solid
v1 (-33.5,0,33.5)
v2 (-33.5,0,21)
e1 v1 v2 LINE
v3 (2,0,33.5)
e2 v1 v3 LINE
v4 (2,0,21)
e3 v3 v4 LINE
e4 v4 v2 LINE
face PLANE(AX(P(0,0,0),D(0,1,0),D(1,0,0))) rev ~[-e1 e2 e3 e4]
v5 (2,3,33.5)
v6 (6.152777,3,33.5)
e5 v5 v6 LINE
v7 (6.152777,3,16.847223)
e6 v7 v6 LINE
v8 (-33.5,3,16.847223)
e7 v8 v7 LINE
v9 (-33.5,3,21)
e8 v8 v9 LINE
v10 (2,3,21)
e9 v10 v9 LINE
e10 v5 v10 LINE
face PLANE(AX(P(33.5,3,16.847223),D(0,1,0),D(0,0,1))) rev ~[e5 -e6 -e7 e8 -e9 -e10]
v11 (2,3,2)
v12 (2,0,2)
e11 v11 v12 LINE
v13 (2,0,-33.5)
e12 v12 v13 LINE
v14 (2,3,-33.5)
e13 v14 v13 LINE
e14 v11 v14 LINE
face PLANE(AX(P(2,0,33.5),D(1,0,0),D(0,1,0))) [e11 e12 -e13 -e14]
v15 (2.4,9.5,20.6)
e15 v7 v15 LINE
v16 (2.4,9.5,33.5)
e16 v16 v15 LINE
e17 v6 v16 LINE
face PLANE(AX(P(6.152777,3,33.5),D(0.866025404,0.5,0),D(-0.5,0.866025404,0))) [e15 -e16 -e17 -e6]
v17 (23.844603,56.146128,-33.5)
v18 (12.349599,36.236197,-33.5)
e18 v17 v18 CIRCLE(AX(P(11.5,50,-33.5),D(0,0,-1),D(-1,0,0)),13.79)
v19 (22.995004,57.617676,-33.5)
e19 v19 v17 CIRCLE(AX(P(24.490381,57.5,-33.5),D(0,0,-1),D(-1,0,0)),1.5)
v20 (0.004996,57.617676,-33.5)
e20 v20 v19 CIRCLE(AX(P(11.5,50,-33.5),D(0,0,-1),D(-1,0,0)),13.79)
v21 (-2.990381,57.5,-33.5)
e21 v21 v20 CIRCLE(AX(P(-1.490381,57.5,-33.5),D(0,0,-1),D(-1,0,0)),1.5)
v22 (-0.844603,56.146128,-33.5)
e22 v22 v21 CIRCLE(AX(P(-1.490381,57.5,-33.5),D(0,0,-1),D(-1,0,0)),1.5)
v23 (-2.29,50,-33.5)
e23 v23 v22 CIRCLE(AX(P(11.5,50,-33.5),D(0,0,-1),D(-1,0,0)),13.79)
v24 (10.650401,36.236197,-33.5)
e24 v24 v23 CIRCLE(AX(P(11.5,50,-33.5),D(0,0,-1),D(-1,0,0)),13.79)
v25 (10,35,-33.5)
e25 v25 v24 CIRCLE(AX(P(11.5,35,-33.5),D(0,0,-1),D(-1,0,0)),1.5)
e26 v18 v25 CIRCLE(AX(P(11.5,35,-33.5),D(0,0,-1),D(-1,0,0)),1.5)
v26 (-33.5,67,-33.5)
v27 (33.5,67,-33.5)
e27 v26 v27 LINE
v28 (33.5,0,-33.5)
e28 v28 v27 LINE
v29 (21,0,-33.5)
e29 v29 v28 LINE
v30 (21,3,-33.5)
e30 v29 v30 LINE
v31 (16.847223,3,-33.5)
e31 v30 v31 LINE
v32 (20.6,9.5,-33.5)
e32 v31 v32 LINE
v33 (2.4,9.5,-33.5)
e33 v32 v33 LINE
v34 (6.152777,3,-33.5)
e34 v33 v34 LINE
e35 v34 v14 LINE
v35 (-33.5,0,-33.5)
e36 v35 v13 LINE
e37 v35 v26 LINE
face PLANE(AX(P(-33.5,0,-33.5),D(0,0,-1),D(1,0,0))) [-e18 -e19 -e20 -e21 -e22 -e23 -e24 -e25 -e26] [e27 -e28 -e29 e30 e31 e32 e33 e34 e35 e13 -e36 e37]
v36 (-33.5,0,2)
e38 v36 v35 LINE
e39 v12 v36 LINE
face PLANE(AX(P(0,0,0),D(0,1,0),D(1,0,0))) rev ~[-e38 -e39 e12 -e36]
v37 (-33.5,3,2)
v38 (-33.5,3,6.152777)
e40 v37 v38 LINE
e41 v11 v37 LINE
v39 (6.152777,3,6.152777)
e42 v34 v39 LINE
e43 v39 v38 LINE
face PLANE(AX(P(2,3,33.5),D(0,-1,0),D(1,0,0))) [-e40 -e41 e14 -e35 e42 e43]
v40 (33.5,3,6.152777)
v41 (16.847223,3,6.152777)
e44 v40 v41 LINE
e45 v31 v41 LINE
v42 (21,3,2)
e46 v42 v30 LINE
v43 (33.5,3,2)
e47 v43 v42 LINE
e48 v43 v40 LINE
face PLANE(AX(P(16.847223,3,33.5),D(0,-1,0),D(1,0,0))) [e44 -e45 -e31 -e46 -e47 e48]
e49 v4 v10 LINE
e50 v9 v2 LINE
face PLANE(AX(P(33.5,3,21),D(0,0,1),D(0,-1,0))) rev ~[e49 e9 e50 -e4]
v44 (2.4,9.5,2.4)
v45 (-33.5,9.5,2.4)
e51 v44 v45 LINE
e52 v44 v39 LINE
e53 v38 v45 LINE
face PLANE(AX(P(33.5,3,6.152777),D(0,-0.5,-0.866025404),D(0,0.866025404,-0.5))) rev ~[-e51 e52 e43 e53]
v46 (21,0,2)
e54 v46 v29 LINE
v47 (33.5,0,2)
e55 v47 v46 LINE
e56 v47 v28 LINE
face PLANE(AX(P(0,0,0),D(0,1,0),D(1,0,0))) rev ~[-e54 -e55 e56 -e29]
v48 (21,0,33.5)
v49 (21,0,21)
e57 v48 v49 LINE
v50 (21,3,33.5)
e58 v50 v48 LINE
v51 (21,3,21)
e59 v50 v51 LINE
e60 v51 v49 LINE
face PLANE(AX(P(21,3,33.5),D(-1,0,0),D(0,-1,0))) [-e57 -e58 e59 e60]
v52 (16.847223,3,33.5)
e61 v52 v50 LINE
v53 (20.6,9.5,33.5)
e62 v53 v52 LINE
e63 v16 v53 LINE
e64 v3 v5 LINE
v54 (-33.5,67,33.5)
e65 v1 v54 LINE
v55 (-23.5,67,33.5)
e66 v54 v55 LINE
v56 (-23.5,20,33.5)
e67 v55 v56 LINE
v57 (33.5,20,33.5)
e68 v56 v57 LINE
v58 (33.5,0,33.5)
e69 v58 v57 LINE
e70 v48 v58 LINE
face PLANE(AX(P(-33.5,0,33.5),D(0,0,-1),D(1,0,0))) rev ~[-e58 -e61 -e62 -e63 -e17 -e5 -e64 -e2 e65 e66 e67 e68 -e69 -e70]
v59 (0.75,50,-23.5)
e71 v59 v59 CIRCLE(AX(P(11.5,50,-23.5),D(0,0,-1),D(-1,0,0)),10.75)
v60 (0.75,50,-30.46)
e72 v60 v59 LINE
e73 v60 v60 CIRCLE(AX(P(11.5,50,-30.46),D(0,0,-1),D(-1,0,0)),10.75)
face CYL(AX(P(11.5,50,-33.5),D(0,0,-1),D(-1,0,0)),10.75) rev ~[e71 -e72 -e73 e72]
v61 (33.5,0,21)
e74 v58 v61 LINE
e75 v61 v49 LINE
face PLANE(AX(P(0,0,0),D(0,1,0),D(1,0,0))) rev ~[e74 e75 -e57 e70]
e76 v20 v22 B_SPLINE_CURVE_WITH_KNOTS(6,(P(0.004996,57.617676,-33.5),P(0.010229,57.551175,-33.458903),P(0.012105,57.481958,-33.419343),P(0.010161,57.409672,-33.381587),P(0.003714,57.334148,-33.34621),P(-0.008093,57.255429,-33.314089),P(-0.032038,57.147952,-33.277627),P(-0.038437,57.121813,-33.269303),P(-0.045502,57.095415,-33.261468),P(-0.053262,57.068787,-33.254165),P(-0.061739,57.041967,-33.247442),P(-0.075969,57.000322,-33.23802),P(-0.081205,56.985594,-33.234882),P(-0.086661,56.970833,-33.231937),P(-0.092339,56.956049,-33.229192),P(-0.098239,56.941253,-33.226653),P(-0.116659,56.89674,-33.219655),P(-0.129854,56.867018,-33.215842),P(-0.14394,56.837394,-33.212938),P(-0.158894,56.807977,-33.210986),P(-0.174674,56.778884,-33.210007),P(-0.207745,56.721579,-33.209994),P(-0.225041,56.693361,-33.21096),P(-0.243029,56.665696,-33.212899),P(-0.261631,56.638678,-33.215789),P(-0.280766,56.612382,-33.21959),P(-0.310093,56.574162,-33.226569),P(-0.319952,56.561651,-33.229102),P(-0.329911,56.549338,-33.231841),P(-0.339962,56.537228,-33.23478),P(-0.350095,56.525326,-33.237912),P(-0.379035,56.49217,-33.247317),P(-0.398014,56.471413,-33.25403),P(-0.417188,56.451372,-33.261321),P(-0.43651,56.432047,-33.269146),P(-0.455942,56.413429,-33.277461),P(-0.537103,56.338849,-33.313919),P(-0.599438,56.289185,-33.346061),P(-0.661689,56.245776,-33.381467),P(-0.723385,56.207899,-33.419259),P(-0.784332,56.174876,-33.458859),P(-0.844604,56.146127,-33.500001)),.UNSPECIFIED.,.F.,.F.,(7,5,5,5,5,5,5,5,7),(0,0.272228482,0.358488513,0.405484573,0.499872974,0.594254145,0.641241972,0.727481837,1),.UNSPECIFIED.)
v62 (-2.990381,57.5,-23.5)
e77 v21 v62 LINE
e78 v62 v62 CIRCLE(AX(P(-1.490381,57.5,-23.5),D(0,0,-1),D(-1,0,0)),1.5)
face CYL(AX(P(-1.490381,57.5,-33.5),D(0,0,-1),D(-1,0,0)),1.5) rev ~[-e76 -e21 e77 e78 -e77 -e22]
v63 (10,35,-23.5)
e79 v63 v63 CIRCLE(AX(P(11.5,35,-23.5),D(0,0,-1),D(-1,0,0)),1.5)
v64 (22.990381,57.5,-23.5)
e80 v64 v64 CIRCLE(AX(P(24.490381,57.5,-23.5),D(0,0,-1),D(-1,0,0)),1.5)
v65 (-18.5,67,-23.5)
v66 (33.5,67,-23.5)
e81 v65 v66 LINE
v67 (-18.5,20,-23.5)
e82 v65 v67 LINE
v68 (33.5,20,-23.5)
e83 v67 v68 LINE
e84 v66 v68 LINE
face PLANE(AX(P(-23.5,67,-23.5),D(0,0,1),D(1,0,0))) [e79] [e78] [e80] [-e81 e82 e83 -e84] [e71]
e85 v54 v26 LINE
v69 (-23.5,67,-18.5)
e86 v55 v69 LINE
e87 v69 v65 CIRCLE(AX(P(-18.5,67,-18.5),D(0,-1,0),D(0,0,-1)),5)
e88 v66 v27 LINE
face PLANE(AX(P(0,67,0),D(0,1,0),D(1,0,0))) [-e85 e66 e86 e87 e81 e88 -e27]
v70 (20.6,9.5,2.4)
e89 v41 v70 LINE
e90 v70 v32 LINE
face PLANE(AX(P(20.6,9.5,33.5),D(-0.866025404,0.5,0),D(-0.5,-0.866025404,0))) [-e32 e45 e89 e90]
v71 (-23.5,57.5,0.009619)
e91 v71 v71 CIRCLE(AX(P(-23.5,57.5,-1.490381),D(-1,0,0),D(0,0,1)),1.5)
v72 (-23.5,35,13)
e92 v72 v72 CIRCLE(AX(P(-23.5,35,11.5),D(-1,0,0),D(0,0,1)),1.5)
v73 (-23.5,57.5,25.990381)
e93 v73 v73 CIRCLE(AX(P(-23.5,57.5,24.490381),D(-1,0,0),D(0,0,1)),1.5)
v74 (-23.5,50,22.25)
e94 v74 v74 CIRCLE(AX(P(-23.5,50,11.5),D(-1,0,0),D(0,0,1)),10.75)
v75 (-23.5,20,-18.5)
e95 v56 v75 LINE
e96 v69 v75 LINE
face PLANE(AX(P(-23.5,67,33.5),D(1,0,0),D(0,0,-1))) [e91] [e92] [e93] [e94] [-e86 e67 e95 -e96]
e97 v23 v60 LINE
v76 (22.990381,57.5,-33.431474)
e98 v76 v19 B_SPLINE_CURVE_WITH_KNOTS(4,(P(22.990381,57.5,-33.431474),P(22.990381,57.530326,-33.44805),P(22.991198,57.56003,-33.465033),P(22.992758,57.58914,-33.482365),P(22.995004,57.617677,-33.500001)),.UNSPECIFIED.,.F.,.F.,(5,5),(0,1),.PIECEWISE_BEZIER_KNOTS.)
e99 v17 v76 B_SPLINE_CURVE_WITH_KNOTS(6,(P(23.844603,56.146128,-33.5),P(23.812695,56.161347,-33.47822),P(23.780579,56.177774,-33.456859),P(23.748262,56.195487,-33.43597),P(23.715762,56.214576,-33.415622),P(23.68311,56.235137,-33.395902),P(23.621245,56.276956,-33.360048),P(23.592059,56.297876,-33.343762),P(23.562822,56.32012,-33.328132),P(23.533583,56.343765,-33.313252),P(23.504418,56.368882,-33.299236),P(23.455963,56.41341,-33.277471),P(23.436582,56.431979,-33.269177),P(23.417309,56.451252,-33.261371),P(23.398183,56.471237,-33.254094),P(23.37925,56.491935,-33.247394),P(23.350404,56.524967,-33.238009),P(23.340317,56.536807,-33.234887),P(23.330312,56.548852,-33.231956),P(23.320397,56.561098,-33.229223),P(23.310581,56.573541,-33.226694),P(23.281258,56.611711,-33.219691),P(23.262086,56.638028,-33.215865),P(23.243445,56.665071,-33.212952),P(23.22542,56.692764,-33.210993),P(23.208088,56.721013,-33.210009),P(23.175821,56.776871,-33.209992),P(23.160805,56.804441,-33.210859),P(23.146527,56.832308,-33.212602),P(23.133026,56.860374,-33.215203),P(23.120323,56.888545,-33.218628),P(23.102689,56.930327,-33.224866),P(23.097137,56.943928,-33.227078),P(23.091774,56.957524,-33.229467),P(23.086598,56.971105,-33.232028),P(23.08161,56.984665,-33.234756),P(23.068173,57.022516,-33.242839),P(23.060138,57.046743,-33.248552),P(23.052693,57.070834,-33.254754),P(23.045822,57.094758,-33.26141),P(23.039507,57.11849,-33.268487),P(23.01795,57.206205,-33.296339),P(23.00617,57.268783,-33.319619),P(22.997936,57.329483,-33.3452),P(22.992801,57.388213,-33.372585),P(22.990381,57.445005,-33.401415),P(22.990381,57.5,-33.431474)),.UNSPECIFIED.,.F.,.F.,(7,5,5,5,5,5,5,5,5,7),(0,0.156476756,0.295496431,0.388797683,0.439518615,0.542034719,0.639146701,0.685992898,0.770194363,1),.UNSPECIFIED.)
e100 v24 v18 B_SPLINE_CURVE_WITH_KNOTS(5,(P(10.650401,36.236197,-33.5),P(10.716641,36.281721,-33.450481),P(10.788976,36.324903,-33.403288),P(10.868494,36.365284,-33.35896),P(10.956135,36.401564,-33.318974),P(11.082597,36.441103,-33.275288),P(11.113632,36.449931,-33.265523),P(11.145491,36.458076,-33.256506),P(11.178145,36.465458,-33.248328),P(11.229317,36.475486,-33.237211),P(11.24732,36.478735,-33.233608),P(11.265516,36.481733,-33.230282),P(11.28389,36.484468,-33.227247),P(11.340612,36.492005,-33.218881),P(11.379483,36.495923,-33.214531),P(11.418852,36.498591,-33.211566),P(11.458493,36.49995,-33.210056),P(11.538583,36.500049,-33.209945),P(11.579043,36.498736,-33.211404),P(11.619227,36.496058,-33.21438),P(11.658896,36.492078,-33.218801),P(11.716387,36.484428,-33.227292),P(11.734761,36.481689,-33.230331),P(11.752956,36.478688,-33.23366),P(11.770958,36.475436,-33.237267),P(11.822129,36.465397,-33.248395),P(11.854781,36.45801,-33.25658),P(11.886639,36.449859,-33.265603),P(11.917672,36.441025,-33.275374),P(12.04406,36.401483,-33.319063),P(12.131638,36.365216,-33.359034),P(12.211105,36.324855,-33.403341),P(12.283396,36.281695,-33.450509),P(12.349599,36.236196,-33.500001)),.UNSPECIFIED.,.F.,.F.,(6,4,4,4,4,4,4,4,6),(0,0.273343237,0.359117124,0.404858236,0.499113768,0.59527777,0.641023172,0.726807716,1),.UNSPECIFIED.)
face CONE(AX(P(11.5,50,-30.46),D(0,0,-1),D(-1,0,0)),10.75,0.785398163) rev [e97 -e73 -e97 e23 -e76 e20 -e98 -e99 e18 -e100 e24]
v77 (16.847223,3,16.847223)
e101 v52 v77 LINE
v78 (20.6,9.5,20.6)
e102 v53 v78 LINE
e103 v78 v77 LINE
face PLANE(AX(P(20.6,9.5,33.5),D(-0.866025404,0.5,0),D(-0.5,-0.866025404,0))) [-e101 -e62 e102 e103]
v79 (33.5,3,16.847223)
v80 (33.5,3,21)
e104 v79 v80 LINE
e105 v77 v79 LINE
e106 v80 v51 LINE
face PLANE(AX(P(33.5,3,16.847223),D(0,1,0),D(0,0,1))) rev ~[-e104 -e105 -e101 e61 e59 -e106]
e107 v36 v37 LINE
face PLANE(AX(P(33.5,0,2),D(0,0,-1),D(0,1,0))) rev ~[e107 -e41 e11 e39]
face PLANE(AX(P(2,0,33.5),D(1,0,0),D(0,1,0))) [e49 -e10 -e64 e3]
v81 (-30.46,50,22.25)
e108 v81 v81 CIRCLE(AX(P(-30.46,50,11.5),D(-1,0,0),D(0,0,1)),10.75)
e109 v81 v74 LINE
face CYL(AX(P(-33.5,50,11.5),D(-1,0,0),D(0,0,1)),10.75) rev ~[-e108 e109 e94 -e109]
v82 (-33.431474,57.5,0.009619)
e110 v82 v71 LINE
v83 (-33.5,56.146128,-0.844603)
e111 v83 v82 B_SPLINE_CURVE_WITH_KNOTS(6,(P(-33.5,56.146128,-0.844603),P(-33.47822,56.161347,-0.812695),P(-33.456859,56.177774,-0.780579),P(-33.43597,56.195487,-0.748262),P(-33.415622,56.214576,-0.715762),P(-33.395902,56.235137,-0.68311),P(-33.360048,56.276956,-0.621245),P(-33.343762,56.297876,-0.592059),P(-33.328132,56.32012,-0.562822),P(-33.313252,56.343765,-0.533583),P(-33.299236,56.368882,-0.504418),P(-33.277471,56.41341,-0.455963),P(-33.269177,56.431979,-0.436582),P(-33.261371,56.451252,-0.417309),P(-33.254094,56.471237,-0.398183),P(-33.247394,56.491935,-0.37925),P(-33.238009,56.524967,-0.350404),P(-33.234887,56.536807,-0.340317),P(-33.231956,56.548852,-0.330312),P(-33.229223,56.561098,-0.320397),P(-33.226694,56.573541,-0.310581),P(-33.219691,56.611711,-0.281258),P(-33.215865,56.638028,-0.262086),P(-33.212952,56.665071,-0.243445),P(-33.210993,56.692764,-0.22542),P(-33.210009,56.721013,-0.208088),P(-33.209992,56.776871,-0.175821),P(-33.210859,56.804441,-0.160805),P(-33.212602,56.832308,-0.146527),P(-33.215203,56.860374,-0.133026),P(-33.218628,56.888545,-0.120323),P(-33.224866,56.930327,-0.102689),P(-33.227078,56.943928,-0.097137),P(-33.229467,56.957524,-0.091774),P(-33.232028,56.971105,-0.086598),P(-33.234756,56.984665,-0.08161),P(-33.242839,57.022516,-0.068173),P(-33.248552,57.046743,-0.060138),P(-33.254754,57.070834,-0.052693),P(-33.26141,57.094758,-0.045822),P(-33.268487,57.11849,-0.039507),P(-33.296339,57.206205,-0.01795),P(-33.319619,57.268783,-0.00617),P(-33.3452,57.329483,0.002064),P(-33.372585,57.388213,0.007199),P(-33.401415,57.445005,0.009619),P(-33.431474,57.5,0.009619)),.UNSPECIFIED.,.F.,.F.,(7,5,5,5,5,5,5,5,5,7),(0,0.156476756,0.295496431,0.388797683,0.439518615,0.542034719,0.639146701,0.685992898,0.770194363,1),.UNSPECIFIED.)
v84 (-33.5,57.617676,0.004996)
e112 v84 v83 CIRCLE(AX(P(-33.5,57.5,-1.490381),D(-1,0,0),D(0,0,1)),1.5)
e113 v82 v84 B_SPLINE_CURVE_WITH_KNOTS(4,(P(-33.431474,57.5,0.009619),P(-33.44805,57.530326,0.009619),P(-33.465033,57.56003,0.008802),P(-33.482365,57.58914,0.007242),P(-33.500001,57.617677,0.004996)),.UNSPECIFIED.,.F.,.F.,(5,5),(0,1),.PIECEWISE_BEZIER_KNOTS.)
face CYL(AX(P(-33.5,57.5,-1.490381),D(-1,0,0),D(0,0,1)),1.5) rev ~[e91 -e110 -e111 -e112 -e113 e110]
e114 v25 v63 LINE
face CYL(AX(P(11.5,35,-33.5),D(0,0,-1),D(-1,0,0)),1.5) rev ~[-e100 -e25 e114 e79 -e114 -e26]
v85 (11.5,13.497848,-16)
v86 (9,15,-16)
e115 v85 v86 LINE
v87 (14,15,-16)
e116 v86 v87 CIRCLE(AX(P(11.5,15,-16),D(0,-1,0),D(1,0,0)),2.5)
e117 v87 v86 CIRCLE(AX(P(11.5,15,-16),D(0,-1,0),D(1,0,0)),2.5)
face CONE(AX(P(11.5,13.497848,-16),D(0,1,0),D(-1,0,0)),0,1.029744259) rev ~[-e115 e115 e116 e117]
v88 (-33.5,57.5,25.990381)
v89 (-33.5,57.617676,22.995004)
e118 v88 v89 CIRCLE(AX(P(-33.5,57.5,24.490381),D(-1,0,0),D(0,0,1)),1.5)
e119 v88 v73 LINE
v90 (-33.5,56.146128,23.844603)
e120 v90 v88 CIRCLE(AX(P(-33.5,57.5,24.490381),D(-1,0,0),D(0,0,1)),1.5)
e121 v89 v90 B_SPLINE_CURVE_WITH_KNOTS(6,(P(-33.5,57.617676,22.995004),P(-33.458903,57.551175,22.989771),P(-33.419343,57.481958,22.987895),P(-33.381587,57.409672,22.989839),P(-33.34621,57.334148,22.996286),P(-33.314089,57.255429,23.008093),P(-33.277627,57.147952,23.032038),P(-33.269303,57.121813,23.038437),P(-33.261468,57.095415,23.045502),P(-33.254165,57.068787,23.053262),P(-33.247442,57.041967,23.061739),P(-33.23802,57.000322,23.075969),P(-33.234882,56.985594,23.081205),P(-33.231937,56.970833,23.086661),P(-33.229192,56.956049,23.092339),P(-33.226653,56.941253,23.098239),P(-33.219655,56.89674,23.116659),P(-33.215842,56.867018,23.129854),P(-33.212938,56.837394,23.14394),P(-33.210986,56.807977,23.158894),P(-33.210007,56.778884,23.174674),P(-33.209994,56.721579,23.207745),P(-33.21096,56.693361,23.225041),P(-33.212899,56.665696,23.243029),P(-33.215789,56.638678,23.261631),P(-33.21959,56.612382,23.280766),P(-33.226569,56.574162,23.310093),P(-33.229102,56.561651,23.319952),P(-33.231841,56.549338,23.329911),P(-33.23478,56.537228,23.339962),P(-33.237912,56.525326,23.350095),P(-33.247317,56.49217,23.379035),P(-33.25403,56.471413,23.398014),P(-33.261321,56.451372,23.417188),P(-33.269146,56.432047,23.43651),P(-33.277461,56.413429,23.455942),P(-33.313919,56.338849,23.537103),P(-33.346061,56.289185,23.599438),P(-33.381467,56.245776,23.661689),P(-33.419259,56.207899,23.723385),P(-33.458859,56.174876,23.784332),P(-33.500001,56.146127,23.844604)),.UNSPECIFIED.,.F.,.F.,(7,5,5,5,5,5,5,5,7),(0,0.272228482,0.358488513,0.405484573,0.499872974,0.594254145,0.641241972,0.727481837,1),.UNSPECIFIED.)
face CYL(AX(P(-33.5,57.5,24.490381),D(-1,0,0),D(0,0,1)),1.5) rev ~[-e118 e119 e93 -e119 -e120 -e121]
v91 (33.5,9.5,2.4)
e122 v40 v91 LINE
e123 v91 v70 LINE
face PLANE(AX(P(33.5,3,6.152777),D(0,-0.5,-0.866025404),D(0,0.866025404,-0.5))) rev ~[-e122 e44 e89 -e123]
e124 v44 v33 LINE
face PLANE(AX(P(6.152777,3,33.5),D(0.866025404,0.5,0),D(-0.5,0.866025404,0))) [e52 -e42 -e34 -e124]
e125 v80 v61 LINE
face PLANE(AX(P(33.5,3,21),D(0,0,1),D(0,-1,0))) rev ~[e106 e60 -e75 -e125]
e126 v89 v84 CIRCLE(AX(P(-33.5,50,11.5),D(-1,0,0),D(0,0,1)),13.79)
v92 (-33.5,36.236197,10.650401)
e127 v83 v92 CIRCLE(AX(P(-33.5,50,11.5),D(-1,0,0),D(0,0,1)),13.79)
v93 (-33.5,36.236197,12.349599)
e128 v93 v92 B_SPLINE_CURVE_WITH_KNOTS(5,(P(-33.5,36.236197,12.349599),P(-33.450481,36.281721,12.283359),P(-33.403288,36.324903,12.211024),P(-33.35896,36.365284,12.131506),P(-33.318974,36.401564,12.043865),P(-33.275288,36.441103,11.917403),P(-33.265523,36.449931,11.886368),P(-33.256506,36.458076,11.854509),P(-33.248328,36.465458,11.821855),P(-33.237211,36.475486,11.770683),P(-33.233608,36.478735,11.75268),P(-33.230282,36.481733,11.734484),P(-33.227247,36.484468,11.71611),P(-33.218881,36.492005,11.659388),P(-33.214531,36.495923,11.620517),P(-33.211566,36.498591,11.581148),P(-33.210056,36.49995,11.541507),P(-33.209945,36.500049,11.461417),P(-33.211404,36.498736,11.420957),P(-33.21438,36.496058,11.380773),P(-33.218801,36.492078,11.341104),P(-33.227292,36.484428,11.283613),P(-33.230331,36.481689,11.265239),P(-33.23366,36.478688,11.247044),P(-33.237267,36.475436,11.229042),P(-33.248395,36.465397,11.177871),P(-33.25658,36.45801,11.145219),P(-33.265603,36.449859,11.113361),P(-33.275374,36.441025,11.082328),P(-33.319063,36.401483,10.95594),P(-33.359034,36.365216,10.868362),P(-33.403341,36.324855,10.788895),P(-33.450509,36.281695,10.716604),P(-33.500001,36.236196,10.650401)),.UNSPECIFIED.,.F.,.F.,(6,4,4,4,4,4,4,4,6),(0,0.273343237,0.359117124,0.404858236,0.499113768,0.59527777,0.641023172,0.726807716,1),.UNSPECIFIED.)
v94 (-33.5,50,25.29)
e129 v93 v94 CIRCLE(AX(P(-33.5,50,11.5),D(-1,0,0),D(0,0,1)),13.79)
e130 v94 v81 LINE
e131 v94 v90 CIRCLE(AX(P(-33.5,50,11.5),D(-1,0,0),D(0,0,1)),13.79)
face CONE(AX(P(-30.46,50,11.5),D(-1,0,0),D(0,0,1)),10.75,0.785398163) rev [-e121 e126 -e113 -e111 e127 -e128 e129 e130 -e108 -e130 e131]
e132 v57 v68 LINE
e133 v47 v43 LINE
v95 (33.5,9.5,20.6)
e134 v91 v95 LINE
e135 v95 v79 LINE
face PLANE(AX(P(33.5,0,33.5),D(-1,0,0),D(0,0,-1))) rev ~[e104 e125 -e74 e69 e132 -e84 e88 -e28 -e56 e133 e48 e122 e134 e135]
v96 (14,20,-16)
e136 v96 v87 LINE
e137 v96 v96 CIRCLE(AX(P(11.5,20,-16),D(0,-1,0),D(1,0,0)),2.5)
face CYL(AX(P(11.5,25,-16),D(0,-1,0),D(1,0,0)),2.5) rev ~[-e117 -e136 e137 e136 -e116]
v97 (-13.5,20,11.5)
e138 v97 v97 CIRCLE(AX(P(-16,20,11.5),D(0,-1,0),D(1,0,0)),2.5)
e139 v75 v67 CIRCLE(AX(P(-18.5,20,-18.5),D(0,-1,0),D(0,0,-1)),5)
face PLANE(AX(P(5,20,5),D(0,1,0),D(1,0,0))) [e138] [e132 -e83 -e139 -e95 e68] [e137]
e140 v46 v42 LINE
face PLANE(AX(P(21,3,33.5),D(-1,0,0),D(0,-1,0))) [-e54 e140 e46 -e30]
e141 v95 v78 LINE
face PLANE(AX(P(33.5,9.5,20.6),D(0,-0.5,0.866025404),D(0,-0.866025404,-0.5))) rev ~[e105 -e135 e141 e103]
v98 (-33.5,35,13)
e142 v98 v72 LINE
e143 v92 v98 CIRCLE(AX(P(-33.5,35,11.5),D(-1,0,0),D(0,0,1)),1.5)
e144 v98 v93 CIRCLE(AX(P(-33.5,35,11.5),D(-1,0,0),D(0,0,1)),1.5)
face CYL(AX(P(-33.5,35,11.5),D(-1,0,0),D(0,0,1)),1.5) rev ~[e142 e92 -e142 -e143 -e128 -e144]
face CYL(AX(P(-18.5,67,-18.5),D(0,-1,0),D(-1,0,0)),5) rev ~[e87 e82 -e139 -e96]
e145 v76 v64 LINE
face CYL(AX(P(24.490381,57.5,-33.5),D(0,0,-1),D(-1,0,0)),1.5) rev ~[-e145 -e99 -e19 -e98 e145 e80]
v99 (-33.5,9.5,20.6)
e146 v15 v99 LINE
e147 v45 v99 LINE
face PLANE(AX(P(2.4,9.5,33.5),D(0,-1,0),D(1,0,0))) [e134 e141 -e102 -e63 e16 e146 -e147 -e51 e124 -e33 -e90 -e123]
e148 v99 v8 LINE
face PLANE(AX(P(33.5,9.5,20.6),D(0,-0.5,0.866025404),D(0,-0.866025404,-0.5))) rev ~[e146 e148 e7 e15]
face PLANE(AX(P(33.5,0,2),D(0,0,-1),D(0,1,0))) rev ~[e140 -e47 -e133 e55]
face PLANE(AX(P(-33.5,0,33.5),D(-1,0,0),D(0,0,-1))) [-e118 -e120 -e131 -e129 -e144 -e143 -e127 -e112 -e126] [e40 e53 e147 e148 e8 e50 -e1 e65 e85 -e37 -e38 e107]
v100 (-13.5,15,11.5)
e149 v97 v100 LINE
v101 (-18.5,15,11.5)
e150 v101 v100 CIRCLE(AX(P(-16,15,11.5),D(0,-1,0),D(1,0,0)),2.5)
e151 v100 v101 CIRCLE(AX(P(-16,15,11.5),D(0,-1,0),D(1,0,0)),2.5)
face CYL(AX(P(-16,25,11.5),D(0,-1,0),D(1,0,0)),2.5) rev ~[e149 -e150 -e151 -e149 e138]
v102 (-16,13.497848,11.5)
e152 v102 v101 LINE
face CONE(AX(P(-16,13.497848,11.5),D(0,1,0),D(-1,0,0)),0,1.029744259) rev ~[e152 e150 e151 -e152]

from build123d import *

# Parameters (mm, degrees)
SKETCH1_W                    = 67
SKETCH1_H                    = 67
BOSS_EXTRUDE1_DEPTH          = 67
SKETCH2_W                    = 57
SKETCH2_H                    = 57
CUT_EXTRUDE1_DEPTH           = 47
CUT_EXTRUDE2_REACH           = 102.5
SKETCH3_R                    = 10.75
CUT_EXTRUDE3_REACH           = 102.5
SKETCH4_R                    = 10.75
F_5_0_5_DIAMETER_HOLE1_D     = 5
F_5_0_5_DIAMETER_HOLE1_DEPTH = 5
F_5_0_5_DIAMETER_HOLE1_TIP   = 1.502151548
FILLET1_R                    = 5
CHAMFER1_SIZE                = 3.04
CUT_EXTRUDE4_REACH           = 102.5
CUT_EXTRUDE5_DEPTH           = 101.5
SKETCH9_R                    = 1.5
CUT_EXTRUDE6_DEPTH           = 10
SKETCH10_R                   = 1.5
CUT_EXTRUDE7_DEPTH           = 10


with BuildPart() as part:
    # Sketch1 → Boss-Extrude1 (new body)
    with BuildSketch(Plane(origin=(0, 0, 0), x_dir=(1, 0, 0), z_dir=(0, 1, 0))):
        Rectangle(SKETCH1_W, SKETCH1_H)
    extrude(amount=BOSS_EXTRUDE1_DEPTH)

    # Sketch2 → Cut-Extrude1 (cut)
    with BuildSketch(Plane(origin=(0, 67, 0), x_dir=(1, 0, 0), z_dir=(0, 1, 0))):
        with Locations((5, -5)):
            Rectangle(SKETCH2_W, SKETCH2_H)
    extrude(amount=-CUT_EXTRUDE1_DEPTH, mode=Mode.SUBTRACT)

    # Sketch3 → Cut-Extrude2 (cut, up to next)
    with BuildSketch(Plane.ZY.offset(33.5), mode=Mode.PRIVATE) as cut_extrude2_sk1:
        with Locations((11.5, 50)):
            Circle(SKETCH3_R)
    cut_extrude2_tool1 = extrude(cut_extrude2_sk1.sketch, amount=-CUT_EXTRUDE2_REACH, mode=Mode.PRIVATE) & part.part
    add(cut_extrude2_tool1.solids().sort_by_distance((-33.5, 50, 11.5))[0], mode=Mode.SUBTRACT)

    # Sketch4 → Cut-Extrude3 (cut, up to next)
    with BuildSketch(Plane(origin=(0, 0, -33.5), x_dir=(-1, 0, 0), z_dir=(0, 0, -1)), mode=Mode.PRIVATE) as cut_extrude3_sk1:
        with Locations((-11.5, 50)):
            Circle(SKETCH4_R)
    cut_extrude3_tool1 = extrude(cut_extrude3_sk1.sketch, amount=-CUT_EXTRUDE3_REACH, mode=Mode.PRIVATE) & part.part
    add(cut_extrude3_tool1.solids().sort_by_distance((11.5, 50, -33.5))[0], mode=Mode.SUBTRACT)

    # Ø5.0 (5) Diameter Hole1
    with Locations(Plane(origin=(0, 20, 0), x_dir=(-1, 0, 0), z_dir=(0, 1, 0))):
        with Locations((16, 11.5), (-11.5, -16)):
            Hole(F_5_0_5_DIAMETER_HOLE1_D / 2, depth=F_5_0_5_DIAMETER_HOLE1_DEPTH)
            with Locations((0, 0, -(F_5_0_5_DIAMETER_HOLE1_DEPTH + F_5_0_5_DIAMETER_HOLE1_TIP / 2))):  # 118° drill point
                Cone(0, F_5_0_5_DIAMETER_HOLE1_D / 2, F_5_0_5_DIAMETER_HOLE1_TIP, mode=Mode.SUBTRACT)

    # Fillet1
    fillet1_edges = [part.edges().sort_by_distance(p)[0] for p in [
        (-23.5, 43.5, -23.5),
    ]]
    fillet(fillet1_edges, radius=FILLET1_R)

    # Chamfer1
    chamfer1_edges = [part.edges().sort_by_distance(p)[0] for p in [
        (-33.5, 50, 0.75),
        (22.25, 50, -33.5),
    ]]
    chamfer(chamfer1_edges, length=CHAMFER1_SIZE)

    # Sketch7 → Cut-Extrude4 (cut, up to next)
    with BuildSketch(Plane(origin=(33.5, 0, 0), x_dir=(0, 0, -1), z_dir=(1, 0, 0)), mode=Mode.PRIVATE) as cut_extrude4_sk1:
        Polygon((-2.4, 9.5), (-20.6, 9.5), (-16.84722325, 3), (-21, 3), (-21, 0), (-2, 0), (-2, 3), (-6.15277675, 3), align=None)
    cut_extrude4_tool1 = extrude(cut_extrude4_sk1.sketch, amount=-CUT_EXTRUDE4_REACH, mode=Mode.PRIVATE) & part.part
    add(cut_extrude4_tool1.solids().sort_by_distance((33.5, 4.630961, 11.5))[0], mode=Mode.SUBTRACT)

    # Sketch8 → Cut-Extrude5 (cut, through all)
    with BuildSketch(Plane.XY.offset(33.5)):
        Polygon((2.4, 9.5), (20.6, 9.5), (16.84722325, 3), (21, 3), (21, 0), (2, 0), (2, 3), (6.15277675, 3), align=None)
    extrude(amount=-CUT_EXTRUDE5_DEPTH, mode=Mode.SUBTRACT)

    # Sketch9 → Cut-Extrude6 (cut)
    with BuildSketch(Plane.ZY.offset(33.5)):
        with Locations((-1.490381057, 57.5)):
            Circle(SKETCH9_R)
        with Locations((24.490381057, 57.5)):
            Circle(SKETCH9_R)
        with Locations((11.5, 35)):
            Circle(SKETCH9_R)
    extrude(amount=-CUT_EXTRUDE6_DEPTH, mode=Mode.SUBTRACT)

    # Sketch10 → Cut-Extrude7 (cut)
    with BuildSketch(Plane(origin=(0, 0, -33.5), x_dir=(-1, 0, 0), z_dir=(0, 0, -1))):
        with Locations((1.490381057, 57.5)):
            Circle(SKETCH10_R)
        with Locations((-24.490381057, 57.5)):
            Circle(SKETCH10_R)
        with Locations((-11.5, 35)):
            Circle(SKETCH10_R)
    extrude(amount=-CUT_EXTRUDE7_DEPTH, mode=Mode.SUBTRACT)


solid = part.part
